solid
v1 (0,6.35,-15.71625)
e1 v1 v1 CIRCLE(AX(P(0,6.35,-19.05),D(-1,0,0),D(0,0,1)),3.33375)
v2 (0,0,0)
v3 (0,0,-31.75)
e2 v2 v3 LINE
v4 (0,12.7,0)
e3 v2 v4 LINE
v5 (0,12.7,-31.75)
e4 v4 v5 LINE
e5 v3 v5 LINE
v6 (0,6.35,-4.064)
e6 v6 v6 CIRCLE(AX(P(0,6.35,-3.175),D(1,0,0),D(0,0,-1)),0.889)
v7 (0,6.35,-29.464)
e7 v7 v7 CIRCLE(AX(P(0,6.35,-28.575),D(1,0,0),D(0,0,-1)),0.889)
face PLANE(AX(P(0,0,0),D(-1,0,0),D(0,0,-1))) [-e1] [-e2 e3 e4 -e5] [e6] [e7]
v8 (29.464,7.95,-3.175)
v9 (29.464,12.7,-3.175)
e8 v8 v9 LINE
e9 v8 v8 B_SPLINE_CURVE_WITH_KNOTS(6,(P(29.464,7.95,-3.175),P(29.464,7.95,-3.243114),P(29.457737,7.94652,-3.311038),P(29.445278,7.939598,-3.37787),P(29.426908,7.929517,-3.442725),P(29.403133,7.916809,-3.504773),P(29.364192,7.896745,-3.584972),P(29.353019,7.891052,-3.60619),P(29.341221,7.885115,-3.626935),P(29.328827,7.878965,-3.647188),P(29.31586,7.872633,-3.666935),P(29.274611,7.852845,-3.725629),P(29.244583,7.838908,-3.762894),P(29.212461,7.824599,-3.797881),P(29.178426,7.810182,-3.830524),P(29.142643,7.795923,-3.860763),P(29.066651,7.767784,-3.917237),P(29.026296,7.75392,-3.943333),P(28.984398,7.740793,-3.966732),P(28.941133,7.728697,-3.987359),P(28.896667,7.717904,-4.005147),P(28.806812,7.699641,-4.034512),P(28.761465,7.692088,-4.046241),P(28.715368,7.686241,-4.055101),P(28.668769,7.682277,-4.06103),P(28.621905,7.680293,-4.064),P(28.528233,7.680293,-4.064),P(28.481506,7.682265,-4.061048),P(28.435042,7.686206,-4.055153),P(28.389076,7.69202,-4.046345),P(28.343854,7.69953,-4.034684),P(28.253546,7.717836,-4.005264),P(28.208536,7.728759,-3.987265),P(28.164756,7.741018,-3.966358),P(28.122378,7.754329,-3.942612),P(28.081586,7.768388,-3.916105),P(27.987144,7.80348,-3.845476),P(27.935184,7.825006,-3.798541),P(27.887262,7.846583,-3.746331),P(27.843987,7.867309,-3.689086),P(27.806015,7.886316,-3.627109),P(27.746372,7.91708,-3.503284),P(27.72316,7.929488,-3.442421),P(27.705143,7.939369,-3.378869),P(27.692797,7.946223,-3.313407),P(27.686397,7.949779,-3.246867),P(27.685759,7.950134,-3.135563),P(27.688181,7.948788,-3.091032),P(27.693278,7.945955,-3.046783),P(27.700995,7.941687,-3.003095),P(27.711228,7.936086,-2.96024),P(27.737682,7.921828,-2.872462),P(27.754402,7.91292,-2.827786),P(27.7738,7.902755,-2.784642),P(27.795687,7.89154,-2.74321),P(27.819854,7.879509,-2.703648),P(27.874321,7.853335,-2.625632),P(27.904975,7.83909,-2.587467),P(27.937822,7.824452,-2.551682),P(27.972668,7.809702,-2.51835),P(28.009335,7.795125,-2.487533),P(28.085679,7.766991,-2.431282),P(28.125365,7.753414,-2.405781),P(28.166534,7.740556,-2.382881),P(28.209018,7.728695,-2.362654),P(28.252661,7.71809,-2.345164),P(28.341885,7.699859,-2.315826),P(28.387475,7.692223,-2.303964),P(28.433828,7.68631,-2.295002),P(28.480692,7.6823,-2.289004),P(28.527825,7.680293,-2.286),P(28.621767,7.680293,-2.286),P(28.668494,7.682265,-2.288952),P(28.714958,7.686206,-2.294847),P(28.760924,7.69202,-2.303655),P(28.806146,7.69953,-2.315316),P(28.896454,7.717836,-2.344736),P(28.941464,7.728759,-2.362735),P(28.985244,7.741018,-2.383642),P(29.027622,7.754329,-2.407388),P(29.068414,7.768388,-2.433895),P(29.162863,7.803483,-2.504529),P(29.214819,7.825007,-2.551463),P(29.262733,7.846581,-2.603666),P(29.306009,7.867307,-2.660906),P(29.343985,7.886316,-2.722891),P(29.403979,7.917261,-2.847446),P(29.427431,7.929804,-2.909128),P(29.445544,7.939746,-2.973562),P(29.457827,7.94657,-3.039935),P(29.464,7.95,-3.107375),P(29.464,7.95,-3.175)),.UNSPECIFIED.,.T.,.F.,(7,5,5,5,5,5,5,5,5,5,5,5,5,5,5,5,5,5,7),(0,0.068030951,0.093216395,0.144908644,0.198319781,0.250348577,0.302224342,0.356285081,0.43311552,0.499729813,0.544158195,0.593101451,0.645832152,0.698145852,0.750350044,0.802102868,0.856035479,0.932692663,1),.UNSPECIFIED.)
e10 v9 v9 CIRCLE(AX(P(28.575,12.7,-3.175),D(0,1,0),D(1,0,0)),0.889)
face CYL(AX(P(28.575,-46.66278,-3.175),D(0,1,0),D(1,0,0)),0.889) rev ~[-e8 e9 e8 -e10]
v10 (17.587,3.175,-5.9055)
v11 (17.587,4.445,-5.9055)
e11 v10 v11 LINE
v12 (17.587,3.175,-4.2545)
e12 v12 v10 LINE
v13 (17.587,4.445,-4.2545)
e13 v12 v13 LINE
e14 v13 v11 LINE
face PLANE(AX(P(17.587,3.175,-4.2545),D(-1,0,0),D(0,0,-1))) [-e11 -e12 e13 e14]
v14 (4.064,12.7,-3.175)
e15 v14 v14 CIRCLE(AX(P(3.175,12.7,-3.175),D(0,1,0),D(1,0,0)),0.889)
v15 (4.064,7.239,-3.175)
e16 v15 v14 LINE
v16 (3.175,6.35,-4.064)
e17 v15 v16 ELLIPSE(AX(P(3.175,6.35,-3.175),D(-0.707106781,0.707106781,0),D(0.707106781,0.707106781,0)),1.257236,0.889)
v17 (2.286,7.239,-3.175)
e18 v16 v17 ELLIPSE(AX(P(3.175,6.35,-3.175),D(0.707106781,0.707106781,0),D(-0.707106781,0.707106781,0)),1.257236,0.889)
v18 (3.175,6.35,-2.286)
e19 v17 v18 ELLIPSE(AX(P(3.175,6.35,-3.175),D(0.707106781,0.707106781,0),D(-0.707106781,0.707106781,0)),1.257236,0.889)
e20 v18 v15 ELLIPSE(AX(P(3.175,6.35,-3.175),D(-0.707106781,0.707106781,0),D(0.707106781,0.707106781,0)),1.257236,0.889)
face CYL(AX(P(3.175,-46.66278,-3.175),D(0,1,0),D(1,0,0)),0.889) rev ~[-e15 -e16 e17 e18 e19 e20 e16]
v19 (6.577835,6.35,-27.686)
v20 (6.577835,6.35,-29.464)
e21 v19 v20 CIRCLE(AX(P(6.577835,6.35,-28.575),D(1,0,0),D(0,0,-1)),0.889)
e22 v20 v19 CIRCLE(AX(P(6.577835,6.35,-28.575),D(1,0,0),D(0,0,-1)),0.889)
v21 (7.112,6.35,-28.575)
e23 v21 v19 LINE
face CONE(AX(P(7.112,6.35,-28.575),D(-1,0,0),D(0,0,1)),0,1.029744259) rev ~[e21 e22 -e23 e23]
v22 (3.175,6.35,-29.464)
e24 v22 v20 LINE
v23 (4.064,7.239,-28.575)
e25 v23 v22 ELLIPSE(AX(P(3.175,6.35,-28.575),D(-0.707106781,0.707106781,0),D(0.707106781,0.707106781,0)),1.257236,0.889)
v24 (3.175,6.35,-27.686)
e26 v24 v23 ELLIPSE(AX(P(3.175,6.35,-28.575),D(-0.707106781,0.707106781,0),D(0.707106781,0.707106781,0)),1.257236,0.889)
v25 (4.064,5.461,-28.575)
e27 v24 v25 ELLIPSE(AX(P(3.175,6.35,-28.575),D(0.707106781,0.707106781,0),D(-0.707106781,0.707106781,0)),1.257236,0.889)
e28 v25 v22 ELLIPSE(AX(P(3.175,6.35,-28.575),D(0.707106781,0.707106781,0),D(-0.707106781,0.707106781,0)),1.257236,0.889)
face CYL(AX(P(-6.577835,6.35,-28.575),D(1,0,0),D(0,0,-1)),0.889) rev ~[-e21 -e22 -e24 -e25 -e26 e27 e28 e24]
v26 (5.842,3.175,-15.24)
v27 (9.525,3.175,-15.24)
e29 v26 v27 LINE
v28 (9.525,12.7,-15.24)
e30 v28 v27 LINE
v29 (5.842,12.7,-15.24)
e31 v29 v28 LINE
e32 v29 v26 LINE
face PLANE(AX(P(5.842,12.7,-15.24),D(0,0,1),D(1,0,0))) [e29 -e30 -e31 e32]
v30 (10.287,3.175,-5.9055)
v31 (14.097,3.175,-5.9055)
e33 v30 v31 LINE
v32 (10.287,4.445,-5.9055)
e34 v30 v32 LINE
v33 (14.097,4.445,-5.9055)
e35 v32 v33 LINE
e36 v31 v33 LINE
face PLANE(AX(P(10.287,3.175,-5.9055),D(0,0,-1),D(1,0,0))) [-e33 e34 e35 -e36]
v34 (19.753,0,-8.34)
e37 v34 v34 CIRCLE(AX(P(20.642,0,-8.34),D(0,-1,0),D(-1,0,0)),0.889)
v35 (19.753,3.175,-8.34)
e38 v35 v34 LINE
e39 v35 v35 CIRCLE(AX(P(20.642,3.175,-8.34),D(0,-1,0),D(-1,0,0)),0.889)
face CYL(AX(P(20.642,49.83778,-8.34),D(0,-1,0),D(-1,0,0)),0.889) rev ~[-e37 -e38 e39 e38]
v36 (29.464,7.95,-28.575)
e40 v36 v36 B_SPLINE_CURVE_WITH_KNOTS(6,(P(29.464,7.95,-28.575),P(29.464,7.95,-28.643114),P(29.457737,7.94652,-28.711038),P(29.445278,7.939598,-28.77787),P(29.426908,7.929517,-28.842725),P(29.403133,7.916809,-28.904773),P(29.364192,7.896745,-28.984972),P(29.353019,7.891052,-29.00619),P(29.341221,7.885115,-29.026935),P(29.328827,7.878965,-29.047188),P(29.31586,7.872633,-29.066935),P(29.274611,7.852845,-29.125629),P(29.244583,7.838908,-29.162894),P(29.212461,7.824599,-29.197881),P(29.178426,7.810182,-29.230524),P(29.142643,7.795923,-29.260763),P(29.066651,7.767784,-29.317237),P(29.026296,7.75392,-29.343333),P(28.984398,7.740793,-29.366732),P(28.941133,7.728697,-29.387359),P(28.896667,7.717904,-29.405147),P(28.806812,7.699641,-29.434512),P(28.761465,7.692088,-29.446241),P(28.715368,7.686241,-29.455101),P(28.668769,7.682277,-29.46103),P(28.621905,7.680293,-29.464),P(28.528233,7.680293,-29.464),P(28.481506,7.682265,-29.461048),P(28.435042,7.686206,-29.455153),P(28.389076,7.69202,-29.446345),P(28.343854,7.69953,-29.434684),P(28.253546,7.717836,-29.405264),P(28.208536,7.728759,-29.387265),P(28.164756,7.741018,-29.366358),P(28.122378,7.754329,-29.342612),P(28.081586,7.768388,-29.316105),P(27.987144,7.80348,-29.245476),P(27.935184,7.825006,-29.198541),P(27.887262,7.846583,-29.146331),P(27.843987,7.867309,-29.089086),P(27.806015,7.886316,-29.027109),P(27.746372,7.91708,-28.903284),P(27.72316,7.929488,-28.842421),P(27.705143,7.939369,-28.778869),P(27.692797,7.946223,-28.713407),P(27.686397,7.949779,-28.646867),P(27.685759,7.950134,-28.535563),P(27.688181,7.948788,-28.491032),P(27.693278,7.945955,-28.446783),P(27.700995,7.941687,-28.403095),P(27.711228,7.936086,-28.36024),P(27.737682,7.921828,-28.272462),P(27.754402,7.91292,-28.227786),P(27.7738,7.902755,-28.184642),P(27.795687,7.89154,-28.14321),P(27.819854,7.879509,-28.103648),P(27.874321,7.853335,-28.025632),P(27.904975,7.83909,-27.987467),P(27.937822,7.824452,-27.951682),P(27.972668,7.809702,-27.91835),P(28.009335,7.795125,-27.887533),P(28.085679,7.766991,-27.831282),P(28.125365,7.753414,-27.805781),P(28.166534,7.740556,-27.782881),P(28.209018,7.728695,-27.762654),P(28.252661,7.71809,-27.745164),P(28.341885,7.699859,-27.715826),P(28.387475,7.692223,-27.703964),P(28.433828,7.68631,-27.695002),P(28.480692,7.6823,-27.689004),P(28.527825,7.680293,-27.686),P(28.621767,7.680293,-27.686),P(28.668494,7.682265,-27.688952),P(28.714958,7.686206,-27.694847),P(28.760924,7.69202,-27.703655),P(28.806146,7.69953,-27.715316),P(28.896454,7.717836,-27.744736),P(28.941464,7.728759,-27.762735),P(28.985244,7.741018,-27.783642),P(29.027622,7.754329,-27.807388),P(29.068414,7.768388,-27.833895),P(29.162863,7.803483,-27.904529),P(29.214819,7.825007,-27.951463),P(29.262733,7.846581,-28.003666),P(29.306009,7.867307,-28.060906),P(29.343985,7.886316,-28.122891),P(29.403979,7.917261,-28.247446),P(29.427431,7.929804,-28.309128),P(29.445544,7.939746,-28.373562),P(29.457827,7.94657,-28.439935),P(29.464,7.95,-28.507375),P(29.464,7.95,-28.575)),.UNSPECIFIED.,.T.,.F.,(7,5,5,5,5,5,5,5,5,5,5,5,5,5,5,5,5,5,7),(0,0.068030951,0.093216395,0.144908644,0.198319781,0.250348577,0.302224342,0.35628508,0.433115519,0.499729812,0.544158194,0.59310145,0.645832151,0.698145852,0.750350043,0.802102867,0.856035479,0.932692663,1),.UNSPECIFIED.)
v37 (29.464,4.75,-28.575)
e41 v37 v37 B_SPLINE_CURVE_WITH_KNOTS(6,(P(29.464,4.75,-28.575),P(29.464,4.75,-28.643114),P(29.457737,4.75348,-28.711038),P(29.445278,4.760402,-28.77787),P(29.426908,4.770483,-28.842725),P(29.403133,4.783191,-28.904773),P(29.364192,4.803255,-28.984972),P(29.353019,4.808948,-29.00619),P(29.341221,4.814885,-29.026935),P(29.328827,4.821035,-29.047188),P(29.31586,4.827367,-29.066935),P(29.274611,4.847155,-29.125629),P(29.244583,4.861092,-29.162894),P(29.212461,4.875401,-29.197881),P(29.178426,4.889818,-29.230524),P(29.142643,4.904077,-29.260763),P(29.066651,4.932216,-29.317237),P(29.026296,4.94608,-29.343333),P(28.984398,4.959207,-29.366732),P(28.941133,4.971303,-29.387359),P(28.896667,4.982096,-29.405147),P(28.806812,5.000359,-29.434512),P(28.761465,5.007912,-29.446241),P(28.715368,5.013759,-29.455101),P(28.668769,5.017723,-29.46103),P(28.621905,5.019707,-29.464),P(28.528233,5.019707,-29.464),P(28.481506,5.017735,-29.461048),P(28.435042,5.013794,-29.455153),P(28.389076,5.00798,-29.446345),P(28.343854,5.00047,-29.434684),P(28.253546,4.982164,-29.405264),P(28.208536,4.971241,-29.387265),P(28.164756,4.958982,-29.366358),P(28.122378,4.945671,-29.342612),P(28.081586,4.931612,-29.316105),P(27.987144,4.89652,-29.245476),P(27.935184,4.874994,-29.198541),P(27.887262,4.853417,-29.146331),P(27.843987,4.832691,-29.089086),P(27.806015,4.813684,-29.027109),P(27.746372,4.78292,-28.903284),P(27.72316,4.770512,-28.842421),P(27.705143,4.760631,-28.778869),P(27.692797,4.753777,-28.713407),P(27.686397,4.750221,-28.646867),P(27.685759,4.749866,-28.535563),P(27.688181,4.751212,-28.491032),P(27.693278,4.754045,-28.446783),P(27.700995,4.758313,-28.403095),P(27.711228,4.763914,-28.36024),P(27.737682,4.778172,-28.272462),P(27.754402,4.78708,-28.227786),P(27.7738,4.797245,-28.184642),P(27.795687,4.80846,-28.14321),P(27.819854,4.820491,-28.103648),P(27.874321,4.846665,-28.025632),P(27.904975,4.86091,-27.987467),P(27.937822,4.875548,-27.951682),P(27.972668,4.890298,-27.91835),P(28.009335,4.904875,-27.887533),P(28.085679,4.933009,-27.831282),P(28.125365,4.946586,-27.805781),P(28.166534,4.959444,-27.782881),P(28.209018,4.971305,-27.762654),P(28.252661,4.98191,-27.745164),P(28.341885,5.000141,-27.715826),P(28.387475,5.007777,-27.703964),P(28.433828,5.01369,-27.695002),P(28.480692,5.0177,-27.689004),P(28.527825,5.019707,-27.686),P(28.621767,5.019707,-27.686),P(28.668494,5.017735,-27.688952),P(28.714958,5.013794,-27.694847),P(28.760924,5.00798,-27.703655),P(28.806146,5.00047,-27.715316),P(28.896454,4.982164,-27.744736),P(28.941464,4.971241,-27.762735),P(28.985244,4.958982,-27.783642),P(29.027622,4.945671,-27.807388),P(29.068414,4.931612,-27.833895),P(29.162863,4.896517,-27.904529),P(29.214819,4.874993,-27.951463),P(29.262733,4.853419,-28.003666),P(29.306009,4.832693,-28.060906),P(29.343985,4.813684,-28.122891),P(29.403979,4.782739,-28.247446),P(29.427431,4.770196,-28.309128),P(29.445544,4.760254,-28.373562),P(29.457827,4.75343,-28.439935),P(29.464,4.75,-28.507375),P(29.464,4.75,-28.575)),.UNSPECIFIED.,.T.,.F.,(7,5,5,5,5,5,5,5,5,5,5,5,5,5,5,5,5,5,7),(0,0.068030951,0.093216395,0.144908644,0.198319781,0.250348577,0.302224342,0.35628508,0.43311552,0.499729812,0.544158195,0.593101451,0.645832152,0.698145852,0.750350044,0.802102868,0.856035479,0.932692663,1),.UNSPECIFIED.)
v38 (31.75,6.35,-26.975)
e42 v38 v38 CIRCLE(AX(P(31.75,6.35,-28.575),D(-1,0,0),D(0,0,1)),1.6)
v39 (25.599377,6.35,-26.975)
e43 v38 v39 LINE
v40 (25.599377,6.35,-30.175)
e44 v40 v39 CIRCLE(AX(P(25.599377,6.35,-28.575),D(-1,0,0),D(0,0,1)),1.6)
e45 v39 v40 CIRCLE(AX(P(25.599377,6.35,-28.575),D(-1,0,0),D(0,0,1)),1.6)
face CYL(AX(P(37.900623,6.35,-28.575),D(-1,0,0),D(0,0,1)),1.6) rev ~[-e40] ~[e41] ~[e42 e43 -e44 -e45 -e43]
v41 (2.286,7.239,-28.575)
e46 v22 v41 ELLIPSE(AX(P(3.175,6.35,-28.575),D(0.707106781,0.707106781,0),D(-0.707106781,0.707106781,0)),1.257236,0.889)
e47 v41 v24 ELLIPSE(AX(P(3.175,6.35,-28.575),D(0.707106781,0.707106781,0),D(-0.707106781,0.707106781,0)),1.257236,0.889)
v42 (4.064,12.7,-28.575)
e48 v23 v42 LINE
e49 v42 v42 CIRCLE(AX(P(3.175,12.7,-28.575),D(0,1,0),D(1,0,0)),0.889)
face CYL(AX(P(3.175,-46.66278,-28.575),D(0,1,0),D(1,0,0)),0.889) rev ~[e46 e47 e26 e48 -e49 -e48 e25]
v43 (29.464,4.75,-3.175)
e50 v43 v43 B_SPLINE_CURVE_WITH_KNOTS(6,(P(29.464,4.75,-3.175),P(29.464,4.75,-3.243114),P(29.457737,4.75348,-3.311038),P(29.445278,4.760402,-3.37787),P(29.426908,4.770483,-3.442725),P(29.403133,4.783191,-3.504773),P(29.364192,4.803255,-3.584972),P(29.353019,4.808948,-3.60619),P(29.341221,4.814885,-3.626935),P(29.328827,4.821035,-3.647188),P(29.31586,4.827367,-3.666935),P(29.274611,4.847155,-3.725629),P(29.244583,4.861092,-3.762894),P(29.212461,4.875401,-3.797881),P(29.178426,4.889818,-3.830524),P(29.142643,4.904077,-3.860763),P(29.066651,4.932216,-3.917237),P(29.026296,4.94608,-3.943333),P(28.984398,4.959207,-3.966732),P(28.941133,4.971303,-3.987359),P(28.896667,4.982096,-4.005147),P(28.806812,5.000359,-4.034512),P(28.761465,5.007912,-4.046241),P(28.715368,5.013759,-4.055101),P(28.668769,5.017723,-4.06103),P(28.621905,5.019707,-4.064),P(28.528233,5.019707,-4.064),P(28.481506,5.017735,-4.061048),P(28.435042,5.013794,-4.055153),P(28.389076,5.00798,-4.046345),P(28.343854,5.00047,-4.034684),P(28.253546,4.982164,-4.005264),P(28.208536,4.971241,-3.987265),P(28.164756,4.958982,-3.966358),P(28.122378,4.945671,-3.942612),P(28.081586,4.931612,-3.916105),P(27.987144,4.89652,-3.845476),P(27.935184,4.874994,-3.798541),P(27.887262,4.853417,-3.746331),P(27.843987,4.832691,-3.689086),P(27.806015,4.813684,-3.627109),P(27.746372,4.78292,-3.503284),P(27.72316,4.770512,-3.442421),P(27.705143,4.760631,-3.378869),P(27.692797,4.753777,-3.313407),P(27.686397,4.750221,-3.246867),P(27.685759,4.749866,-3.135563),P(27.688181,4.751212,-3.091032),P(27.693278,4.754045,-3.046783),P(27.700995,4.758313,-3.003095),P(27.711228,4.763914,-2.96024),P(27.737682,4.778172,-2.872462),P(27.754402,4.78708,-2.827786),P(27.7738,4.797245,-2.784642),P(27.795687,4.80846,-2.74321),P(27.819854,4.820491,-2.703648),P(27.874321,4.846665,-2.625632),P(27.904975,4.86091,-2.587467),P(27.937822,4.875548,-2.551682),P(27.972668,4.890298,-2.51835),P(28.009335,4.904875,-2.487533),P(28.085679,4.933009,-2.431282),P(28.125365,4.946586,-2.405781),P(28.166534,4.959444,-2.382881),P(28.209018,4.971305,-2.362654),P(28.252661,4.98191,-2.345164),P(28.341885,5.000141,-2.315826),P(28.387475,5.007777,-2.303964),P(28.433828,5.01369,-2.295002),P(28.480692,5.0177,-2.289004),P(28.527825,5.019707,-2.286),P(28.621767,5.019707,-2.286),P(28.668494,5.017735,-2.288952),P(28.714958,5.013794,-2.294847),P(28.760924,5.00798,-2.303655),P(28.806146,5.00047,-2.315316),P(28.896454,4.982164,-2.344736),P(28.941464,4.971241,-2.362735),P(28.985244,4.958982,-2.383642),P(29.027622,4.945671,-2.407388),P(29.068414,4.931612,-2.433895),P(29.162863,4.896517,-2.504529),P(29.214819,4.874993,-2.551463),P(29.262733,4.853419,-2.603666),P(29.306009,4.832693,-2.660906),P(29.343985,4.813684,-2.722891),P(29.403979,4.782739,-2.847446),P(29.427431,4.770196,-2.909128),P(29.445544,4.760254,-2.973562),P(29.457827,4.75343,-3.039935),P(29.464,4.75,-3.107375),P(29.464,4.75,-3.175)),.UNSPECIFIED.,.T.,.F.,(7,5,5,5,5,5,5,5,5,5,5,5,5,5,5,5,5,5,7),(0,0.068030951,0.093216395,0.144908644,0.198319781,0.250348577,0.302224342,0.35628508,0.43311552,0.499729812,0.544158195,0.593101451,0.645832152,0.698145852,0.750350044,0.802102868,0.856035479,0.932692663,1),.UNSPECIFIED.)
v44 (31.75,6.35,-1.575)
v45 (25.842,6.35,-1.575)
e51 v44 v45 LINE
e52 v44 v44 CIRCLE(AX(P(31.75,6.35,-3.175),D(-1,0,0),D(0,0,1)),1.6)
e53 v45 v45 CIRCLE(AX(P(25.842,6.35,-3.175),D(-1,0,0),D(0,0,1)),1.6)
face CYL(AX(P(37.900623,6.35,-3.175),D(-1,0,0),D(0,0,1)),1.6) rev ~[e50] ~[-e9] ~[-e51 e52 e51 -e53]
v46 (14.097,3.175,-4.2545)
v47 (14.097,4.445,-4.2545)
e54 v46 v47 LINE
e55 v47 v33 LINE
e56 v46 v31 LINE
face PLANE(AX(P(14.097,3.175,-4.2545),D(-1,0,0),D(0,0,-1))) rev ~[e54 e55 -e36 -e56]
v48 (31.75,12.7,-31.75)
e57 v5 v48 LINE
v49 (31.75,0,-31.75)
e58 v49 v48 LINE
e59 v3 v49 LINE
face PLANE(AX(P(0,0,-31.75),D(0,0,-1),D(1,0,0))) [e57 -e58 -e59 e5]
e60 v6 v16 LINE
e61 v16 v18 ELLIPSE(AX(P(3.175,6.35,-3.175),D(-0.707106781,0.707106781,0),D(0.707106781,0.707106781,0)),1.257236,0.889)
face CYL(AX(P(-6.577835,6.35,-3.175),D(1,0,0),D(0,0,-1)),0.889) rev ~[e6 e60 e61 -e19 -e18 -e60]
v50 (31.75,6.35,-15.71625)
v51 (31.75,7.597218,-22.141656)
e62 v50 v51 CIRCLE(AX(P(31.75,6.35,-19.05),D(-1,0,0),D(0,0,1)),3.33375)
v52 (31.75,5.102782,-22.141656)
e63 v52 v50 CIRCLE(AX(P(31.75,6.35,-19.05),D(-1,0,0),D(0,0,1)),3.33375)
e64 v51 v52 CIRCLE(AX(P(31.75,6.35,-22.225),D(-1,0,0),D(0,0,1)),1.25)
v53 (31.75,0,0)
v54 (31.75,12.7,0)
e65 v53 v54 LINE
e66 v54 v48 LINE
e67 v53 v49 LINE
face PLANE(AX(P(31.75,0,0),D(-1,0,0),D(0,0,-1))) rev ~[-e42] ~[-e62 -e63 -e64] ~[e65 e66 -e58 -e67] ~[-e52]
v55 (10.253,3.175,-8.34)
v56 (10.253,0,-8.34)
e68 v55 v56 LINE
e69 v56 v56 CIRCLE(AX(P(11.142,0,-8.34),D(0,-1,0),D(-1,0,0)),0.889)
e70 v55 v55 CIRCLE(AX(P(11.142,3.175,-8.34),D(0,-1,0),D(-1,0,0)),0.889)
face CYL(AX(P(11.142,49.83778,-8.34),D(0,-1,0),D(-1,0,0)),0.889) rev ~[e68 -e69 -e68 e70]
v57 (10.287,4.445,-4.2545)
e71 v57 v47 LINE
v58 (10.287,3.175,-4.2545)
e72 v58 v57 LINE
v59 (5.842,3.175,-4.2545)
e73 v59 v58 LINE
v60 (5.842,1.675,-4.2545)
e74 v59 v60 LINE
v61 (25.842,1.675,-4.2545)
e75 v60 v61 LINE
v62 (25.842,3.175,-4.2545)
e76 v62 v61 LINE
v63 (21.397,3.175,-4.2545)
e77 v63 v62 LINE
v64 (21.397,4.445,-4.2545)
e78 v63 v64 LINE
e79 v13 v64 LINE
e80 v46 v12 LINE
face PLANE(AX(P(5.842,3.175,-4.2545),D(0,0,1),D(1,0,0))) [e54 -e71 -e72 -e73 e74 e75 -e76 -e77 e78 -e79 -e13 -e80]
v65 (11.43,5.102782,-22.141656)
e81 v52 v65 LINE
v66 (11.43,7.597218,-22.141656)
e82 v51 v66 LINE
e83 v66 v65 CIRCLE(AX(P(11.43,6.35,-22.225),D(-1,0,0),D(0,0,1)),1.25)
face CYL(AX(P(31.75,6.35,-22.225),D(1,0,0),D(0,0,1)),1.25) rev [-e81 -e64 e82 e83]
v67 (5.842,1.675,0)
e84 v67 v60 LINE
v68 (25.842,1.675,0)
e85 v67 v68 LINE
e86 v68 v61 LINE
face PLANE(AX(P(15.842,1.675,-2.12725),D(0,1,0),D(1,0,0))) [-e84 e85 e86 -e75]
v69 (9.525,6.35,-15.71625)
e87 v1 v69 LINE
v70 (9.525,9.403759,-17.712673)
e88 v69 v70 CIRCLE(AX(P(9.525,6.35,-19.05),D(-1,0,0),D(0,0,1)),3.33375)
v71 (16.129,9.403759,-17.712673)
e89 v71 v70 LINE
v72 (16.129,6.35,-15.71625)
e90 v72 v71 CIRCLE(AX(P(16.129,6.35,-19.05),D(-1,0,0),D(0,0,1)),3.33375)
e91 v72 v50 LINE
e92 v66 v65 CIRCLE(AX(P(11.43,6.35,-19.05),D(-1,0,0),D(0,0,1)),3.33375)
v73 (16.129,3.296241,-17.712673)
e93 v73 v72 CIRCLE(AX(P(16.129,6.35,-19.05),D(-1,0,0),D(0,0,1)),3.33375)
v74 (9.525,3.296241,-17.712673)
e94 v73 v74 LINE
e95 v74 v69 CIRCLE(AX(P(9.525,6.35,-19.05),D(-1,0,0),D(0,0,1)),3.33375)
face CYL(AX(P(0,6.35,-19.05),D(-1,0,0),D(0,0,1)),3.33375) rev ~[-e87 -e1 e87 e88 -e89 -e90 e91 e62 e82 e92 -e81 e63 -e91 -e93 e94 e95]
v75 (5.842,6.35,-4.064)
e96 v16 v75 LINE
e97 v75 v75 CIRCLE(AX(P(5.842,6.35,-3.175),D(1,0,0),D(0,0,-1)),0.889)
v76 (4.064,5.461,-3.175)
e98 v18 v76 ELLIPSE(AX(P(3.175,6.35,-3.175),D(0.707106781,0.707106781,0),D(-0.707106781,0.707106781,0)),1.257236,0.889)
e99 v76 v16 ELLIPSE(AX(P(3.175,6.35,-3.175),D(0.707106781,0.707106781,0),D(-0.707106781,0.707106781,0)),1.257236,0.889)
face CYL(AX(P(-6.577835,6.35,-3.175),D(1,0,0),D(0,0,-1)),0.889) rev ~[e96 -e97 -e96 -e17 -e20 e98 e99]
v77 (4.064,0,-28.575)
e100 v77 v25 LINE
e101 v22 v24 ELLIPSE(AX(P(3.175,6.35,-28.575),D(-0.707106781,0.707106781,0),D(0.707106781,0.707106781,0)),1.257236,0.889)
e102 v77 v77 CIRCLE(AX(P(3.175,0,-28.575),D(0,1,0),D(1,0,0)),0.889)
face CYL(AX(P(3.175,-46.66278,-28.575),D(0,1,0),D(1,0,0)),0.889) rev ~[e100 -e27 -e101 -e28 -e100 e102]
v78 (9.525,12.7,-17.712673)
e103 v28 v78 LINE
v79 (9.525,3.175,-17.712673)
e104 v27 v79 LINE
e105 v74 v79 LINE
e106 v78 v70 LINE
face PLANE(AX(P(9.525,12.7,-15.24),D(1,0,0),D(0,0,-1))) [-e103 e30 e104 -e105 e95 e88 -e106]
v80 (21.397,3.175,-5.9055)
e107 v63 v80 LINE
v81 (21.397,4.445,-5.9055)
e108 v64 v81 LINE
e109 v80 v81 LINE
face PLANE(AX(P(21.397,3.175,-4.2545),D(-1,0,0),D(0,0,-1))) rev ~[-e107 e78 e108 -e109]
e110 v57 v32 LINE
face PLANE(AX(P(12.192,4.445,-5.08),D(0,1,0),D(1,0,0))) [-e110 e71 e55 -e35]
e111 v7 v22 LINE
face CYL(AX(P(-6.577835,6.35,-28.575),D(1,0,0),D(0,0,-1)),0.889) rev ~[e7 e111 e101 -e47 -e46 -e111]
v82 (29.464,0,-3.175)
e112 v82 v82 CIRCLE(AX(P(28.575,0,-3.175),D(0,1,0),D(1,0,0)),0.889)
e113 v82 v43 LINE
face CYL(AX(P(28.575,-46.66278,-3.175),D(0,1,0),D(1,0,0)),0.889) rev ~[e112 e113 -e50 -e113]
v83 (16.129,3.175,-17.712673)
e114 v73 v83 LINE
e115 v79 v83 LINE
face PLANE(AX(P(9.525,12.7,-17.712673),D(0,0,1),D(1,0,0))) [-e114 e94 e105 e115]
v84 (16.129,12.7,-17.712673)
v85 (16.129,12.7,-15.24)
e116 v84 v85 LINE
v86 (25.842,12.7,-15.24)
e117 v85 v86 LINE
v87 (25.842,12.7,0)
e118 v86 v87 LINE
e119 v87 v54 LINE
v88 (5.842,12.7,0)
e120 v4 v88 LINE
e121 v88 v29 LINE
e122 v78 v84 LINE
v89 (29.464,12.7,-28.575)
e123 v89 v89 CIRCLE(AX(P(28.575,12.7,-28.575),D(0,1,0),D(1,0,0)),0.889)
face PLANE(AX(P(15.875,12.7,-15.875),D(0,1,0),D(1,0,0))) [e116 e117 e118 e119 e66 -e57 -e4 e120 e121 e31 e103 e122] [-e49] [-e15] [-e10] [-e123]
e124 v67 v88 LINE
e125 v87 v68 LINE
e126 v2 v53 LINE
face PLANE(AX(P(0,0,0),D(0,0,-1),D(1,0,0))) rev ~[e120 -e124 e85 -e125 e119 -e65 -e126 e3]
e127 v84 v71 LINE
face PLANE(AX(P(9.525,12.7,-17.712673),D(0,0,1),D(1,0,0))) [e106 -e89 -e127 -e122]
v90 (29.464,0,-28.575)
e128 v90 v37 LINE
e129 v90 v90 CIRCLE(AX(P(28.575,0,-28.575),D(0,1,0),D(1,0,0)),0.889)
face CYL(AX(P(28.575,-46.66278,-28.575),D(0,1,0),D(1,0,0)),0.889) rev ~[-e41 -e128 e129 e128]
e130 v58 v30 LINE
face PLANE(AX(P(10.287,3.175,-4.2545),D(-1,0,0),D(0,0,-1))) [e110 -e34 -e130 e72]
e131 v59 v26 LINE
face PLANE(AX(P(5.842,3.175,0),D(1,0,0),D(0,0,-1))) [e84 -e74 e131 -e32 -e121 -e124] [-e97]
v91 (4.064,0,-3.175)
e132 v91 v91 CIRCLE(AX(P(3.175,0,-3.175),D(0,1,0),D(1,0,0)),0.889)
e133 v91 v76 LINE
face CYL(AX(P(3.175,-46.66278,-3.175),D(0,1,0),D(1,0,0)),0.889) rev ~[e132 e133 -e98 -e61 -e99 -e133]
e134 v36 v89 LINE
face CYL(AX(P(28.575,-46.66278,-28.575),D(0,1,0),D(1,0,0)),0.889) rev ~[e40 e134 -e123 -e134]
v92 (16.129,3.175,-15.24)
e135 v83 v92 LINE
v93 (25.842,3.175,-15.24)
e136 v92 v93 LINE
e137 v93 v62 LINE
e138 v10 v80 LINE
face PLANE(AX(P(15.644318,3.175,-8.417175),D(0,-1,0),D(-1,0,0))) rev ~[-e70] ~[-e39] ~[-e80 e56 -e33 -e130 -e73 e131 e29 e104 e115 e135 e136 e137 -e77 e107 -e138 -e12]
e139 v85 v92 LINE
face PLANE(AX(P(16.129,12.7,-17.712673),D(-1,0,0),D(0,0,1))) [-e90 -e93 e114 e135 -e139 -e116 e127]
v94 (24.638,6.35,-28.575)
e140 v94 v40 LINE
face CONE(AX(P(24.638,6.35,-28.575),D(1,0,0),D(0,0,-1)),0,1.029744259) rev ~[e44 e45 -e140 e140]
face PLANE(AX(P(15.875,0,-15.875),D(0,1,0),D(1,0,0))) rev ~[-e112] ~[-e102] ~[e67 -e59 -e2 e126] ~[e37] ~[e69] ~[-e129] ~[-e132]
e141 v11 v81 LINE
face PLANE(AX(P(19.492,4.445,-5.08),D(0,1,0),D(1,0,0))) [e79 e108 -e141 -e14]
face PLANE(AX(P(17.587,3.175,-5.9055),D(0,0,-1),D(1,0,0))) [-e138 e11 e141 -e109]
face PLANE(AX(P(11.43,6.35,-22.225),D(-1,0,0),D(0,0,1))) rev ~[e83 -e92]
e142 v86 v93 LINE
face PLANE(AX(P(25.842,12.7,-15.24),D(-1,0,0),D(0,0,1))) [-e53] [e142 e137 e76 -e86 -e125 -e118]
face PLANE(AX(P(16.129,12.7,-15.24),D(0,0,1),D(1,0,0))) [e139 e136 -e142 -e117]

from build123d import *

# Parameters (mm, degrees)
SKETCH1_W                      = 31.75
SKETCH1_H                      = 31.75
MAIN_BODY_DEPTH                = 12.7
CUT_EXTRUDE1_DEPTH             = 9.525
SKETCH3_W                      = 20
SKETCH3_H                      = 4.2545
CUT_EXTRUDE2_DEPTH             = 1.5
SKETCH4_W                      = 3.81
SKETCH4_H                      = 1.651
BOSS_EXTRUDE2_DEPTH            = 1.27
SKETCH5_R                      = 3.33375
CUT_EXTRUDE3_DEPTH             = 32.75
SKETCH6_R                      = 1.25000004
CUT_EXTRUDE4_DEPTH             = 20.32
TAP_DRILL_FOR_2_56_TAP1_D      = 1.778
TAP_DRILL_FOR_2_56_TAP2_D      = 1.778
F_3_2_3_2_DIAMETER_HOLE1_D     = 3.2
F_3_2_3_2_DIAMETER_HOLE1_DEPTH = 6.15062301
F_3_2_3_2_DIAMETER_HOLE1_TIP   = 0.96137699
TAP_DRILL_FOR_2_56_TAP4_D      = 1.778
TAP_DRILL_FOR_2_56_TAP4_DEPTH  = 6.57783491
TAP_DRILL_FOR_2_56_TAP4_TIP    = 0.53416509


with BuildPart() as part:
    # Sketch1 → Main body (new body)
    with BuildSketch(Plane(origin=(0, 0, 0), x_dir=(1, 0, 0), z_dir=(0, 1, 0))):
        with Locations((15.875, 15.875)):
            Rectangle(SKETCH1_W, SKETCH1_H)
    extrude(amount=MAIN_BODY_DEPTH)

    # Sketch2 → Cut-Extrude1 (cut)
    with BuildSketch(Plane(origin=(0, 12.7, 0), x_dir=(1, 0, 0), z_dir=(0, 1, 0))):
        Polygon((5.842, 0), (5.842, 15.24), (9.525, 15.24), (9.525, 17.712672935), (16.129, 17.712672935), (16.129, 15.24), (25.842, 15.24), (25.842, 0), align=None)
    extrude(amount=-CUT_EXTRUDE1_DEPTH, mode=Mode.SUBTRACT)

    # Sketch3 → Cut-Extrude2 (cut)
    with BuildSketch(Plane(origin=(0, 3.175, 0), x_dir=(1, 0, 0), z_dir=(0, 1, 0))):
        with Locations((15.842, 2.12725)):
            Rectangle(SKETCH3_W, SKETCH3_H)
    extrude(amount=-CUT_EXTRUDE2_DEPTH, mode=Mode.SUBTRACT)

    # Sketch4 → Boss-Extrude2 (add)
    with BuildSketch(Plane(origin=(0, 3.175, 0), x_dir=(1, 0, 0), z_dir=(0, 1, 0))):
        with Locations((12.192, 5.08)):
            Rectangle(SKETCH4_W, SKETCH4_H)
        with Locations((19.492, 5.08)):
            Rectangle(SKETCH4_W, SKETCH4_H)
    extrude(amount=BOSS_EXTRUDE2_DEPTH)

    # Sketch5 → Cut-Extrude3 (cut, through all)
    with BuildSketch(Plane.ZY):
        with Locations((-19.05, 6.35)):
            Circle(SKETCH5_R)
    extrude(amount=-CUT_EXTRUDE3_DEPTH, mode=Mode.SUBTRACT)

    # Sketch6 → Cut-Extrude4 (cut)
    with BuildSketch(Plane.ZY.offset(-31.75)):
        with Locations((-22.225, 6.35)):
            Circle(SKETCH6_R)
    extrude(amount=CUT_EXTRUDE4_DEPTH, mode=Mode.SUBTRACT)

    # Tap Drill for #2-56 Tap1 (through all)
    with Locations(Plane(origin=(0, 0, 0), x_dir=(-1, 0, 0), z_dir=(0, -1, 0))):
        with Locations((-28.575, 3.175), (-28.575, 28.575), (-3.175, 3.175), (-3.175, 28.575)):
            Hole(TAP_DRILL_FOR_2_56_TAP1_D / 2)

    # Tap Drill for #2-56 Tap2 (through all)
    with Locations(Plane(origin=(0, 3.175, 0), x_dir=(1, 0, 0), z_dir=(0, 1, 0))):
        with Locations((20.642, 8.34), (11.142, 8.34)):
            Hole(TAP_DRILL_FOR_2_56_TAP2_D / 2)

    # Ø3.2 (3.2) Diameter Hole1
    with Locations(Plane(origin=(31.75, 0, 0), x_dir=(0, 0, -1), z_dir=(1, 0, 0))):
        with Locations((28.575, 6.35), (3.175, 6.35)):
            Hole(F_3_2_3_2_DIAMETER_HOLE1_D / 2, depth=F_3_2_3_2_DIAMETER_HOLE1_DEPTH)
            with Locations((0, 0, -(F_3_2_3_2_DIAMETER_HOLE1_DEPTH + F_3_2_3_2_DIAMETER_HOLE1_TIP / 2))):  # 118° drill point
                Cone(0, F_3_2_3_2_DIAMETER_HOLE1_D / 2, F_3_2_3_2_DIAMETER_HOLE1_TIP, mode=Mode.SUBTRACT)

    # Tap Drill for #2-56 Tap4
    with Locations(Plane.ZY):
        with Locations((-3.175, 6.35), (-28.575, 6.35)):
            Hole(TAP_DRILL_FOR_2_56_TAP4_D / 2, depth=TAP_DRILL_FOR_2_56_TAP4_DEPTH)
            with Locations((0, 0, -(TAP_DRILL_FOR_2_56_TAP4_DEPTH + TAP_DRILL_FOR_2_56_TAP4_TIP / 2))):  # 118° drill point
                Cone(0, TAP_DRILL_FOR_2_56_TAP4_D / 2, TAP_DRILL_FOR_2_56_TAP4_TIP, mode=Mode.SUBTRACT)


solid = part.part
